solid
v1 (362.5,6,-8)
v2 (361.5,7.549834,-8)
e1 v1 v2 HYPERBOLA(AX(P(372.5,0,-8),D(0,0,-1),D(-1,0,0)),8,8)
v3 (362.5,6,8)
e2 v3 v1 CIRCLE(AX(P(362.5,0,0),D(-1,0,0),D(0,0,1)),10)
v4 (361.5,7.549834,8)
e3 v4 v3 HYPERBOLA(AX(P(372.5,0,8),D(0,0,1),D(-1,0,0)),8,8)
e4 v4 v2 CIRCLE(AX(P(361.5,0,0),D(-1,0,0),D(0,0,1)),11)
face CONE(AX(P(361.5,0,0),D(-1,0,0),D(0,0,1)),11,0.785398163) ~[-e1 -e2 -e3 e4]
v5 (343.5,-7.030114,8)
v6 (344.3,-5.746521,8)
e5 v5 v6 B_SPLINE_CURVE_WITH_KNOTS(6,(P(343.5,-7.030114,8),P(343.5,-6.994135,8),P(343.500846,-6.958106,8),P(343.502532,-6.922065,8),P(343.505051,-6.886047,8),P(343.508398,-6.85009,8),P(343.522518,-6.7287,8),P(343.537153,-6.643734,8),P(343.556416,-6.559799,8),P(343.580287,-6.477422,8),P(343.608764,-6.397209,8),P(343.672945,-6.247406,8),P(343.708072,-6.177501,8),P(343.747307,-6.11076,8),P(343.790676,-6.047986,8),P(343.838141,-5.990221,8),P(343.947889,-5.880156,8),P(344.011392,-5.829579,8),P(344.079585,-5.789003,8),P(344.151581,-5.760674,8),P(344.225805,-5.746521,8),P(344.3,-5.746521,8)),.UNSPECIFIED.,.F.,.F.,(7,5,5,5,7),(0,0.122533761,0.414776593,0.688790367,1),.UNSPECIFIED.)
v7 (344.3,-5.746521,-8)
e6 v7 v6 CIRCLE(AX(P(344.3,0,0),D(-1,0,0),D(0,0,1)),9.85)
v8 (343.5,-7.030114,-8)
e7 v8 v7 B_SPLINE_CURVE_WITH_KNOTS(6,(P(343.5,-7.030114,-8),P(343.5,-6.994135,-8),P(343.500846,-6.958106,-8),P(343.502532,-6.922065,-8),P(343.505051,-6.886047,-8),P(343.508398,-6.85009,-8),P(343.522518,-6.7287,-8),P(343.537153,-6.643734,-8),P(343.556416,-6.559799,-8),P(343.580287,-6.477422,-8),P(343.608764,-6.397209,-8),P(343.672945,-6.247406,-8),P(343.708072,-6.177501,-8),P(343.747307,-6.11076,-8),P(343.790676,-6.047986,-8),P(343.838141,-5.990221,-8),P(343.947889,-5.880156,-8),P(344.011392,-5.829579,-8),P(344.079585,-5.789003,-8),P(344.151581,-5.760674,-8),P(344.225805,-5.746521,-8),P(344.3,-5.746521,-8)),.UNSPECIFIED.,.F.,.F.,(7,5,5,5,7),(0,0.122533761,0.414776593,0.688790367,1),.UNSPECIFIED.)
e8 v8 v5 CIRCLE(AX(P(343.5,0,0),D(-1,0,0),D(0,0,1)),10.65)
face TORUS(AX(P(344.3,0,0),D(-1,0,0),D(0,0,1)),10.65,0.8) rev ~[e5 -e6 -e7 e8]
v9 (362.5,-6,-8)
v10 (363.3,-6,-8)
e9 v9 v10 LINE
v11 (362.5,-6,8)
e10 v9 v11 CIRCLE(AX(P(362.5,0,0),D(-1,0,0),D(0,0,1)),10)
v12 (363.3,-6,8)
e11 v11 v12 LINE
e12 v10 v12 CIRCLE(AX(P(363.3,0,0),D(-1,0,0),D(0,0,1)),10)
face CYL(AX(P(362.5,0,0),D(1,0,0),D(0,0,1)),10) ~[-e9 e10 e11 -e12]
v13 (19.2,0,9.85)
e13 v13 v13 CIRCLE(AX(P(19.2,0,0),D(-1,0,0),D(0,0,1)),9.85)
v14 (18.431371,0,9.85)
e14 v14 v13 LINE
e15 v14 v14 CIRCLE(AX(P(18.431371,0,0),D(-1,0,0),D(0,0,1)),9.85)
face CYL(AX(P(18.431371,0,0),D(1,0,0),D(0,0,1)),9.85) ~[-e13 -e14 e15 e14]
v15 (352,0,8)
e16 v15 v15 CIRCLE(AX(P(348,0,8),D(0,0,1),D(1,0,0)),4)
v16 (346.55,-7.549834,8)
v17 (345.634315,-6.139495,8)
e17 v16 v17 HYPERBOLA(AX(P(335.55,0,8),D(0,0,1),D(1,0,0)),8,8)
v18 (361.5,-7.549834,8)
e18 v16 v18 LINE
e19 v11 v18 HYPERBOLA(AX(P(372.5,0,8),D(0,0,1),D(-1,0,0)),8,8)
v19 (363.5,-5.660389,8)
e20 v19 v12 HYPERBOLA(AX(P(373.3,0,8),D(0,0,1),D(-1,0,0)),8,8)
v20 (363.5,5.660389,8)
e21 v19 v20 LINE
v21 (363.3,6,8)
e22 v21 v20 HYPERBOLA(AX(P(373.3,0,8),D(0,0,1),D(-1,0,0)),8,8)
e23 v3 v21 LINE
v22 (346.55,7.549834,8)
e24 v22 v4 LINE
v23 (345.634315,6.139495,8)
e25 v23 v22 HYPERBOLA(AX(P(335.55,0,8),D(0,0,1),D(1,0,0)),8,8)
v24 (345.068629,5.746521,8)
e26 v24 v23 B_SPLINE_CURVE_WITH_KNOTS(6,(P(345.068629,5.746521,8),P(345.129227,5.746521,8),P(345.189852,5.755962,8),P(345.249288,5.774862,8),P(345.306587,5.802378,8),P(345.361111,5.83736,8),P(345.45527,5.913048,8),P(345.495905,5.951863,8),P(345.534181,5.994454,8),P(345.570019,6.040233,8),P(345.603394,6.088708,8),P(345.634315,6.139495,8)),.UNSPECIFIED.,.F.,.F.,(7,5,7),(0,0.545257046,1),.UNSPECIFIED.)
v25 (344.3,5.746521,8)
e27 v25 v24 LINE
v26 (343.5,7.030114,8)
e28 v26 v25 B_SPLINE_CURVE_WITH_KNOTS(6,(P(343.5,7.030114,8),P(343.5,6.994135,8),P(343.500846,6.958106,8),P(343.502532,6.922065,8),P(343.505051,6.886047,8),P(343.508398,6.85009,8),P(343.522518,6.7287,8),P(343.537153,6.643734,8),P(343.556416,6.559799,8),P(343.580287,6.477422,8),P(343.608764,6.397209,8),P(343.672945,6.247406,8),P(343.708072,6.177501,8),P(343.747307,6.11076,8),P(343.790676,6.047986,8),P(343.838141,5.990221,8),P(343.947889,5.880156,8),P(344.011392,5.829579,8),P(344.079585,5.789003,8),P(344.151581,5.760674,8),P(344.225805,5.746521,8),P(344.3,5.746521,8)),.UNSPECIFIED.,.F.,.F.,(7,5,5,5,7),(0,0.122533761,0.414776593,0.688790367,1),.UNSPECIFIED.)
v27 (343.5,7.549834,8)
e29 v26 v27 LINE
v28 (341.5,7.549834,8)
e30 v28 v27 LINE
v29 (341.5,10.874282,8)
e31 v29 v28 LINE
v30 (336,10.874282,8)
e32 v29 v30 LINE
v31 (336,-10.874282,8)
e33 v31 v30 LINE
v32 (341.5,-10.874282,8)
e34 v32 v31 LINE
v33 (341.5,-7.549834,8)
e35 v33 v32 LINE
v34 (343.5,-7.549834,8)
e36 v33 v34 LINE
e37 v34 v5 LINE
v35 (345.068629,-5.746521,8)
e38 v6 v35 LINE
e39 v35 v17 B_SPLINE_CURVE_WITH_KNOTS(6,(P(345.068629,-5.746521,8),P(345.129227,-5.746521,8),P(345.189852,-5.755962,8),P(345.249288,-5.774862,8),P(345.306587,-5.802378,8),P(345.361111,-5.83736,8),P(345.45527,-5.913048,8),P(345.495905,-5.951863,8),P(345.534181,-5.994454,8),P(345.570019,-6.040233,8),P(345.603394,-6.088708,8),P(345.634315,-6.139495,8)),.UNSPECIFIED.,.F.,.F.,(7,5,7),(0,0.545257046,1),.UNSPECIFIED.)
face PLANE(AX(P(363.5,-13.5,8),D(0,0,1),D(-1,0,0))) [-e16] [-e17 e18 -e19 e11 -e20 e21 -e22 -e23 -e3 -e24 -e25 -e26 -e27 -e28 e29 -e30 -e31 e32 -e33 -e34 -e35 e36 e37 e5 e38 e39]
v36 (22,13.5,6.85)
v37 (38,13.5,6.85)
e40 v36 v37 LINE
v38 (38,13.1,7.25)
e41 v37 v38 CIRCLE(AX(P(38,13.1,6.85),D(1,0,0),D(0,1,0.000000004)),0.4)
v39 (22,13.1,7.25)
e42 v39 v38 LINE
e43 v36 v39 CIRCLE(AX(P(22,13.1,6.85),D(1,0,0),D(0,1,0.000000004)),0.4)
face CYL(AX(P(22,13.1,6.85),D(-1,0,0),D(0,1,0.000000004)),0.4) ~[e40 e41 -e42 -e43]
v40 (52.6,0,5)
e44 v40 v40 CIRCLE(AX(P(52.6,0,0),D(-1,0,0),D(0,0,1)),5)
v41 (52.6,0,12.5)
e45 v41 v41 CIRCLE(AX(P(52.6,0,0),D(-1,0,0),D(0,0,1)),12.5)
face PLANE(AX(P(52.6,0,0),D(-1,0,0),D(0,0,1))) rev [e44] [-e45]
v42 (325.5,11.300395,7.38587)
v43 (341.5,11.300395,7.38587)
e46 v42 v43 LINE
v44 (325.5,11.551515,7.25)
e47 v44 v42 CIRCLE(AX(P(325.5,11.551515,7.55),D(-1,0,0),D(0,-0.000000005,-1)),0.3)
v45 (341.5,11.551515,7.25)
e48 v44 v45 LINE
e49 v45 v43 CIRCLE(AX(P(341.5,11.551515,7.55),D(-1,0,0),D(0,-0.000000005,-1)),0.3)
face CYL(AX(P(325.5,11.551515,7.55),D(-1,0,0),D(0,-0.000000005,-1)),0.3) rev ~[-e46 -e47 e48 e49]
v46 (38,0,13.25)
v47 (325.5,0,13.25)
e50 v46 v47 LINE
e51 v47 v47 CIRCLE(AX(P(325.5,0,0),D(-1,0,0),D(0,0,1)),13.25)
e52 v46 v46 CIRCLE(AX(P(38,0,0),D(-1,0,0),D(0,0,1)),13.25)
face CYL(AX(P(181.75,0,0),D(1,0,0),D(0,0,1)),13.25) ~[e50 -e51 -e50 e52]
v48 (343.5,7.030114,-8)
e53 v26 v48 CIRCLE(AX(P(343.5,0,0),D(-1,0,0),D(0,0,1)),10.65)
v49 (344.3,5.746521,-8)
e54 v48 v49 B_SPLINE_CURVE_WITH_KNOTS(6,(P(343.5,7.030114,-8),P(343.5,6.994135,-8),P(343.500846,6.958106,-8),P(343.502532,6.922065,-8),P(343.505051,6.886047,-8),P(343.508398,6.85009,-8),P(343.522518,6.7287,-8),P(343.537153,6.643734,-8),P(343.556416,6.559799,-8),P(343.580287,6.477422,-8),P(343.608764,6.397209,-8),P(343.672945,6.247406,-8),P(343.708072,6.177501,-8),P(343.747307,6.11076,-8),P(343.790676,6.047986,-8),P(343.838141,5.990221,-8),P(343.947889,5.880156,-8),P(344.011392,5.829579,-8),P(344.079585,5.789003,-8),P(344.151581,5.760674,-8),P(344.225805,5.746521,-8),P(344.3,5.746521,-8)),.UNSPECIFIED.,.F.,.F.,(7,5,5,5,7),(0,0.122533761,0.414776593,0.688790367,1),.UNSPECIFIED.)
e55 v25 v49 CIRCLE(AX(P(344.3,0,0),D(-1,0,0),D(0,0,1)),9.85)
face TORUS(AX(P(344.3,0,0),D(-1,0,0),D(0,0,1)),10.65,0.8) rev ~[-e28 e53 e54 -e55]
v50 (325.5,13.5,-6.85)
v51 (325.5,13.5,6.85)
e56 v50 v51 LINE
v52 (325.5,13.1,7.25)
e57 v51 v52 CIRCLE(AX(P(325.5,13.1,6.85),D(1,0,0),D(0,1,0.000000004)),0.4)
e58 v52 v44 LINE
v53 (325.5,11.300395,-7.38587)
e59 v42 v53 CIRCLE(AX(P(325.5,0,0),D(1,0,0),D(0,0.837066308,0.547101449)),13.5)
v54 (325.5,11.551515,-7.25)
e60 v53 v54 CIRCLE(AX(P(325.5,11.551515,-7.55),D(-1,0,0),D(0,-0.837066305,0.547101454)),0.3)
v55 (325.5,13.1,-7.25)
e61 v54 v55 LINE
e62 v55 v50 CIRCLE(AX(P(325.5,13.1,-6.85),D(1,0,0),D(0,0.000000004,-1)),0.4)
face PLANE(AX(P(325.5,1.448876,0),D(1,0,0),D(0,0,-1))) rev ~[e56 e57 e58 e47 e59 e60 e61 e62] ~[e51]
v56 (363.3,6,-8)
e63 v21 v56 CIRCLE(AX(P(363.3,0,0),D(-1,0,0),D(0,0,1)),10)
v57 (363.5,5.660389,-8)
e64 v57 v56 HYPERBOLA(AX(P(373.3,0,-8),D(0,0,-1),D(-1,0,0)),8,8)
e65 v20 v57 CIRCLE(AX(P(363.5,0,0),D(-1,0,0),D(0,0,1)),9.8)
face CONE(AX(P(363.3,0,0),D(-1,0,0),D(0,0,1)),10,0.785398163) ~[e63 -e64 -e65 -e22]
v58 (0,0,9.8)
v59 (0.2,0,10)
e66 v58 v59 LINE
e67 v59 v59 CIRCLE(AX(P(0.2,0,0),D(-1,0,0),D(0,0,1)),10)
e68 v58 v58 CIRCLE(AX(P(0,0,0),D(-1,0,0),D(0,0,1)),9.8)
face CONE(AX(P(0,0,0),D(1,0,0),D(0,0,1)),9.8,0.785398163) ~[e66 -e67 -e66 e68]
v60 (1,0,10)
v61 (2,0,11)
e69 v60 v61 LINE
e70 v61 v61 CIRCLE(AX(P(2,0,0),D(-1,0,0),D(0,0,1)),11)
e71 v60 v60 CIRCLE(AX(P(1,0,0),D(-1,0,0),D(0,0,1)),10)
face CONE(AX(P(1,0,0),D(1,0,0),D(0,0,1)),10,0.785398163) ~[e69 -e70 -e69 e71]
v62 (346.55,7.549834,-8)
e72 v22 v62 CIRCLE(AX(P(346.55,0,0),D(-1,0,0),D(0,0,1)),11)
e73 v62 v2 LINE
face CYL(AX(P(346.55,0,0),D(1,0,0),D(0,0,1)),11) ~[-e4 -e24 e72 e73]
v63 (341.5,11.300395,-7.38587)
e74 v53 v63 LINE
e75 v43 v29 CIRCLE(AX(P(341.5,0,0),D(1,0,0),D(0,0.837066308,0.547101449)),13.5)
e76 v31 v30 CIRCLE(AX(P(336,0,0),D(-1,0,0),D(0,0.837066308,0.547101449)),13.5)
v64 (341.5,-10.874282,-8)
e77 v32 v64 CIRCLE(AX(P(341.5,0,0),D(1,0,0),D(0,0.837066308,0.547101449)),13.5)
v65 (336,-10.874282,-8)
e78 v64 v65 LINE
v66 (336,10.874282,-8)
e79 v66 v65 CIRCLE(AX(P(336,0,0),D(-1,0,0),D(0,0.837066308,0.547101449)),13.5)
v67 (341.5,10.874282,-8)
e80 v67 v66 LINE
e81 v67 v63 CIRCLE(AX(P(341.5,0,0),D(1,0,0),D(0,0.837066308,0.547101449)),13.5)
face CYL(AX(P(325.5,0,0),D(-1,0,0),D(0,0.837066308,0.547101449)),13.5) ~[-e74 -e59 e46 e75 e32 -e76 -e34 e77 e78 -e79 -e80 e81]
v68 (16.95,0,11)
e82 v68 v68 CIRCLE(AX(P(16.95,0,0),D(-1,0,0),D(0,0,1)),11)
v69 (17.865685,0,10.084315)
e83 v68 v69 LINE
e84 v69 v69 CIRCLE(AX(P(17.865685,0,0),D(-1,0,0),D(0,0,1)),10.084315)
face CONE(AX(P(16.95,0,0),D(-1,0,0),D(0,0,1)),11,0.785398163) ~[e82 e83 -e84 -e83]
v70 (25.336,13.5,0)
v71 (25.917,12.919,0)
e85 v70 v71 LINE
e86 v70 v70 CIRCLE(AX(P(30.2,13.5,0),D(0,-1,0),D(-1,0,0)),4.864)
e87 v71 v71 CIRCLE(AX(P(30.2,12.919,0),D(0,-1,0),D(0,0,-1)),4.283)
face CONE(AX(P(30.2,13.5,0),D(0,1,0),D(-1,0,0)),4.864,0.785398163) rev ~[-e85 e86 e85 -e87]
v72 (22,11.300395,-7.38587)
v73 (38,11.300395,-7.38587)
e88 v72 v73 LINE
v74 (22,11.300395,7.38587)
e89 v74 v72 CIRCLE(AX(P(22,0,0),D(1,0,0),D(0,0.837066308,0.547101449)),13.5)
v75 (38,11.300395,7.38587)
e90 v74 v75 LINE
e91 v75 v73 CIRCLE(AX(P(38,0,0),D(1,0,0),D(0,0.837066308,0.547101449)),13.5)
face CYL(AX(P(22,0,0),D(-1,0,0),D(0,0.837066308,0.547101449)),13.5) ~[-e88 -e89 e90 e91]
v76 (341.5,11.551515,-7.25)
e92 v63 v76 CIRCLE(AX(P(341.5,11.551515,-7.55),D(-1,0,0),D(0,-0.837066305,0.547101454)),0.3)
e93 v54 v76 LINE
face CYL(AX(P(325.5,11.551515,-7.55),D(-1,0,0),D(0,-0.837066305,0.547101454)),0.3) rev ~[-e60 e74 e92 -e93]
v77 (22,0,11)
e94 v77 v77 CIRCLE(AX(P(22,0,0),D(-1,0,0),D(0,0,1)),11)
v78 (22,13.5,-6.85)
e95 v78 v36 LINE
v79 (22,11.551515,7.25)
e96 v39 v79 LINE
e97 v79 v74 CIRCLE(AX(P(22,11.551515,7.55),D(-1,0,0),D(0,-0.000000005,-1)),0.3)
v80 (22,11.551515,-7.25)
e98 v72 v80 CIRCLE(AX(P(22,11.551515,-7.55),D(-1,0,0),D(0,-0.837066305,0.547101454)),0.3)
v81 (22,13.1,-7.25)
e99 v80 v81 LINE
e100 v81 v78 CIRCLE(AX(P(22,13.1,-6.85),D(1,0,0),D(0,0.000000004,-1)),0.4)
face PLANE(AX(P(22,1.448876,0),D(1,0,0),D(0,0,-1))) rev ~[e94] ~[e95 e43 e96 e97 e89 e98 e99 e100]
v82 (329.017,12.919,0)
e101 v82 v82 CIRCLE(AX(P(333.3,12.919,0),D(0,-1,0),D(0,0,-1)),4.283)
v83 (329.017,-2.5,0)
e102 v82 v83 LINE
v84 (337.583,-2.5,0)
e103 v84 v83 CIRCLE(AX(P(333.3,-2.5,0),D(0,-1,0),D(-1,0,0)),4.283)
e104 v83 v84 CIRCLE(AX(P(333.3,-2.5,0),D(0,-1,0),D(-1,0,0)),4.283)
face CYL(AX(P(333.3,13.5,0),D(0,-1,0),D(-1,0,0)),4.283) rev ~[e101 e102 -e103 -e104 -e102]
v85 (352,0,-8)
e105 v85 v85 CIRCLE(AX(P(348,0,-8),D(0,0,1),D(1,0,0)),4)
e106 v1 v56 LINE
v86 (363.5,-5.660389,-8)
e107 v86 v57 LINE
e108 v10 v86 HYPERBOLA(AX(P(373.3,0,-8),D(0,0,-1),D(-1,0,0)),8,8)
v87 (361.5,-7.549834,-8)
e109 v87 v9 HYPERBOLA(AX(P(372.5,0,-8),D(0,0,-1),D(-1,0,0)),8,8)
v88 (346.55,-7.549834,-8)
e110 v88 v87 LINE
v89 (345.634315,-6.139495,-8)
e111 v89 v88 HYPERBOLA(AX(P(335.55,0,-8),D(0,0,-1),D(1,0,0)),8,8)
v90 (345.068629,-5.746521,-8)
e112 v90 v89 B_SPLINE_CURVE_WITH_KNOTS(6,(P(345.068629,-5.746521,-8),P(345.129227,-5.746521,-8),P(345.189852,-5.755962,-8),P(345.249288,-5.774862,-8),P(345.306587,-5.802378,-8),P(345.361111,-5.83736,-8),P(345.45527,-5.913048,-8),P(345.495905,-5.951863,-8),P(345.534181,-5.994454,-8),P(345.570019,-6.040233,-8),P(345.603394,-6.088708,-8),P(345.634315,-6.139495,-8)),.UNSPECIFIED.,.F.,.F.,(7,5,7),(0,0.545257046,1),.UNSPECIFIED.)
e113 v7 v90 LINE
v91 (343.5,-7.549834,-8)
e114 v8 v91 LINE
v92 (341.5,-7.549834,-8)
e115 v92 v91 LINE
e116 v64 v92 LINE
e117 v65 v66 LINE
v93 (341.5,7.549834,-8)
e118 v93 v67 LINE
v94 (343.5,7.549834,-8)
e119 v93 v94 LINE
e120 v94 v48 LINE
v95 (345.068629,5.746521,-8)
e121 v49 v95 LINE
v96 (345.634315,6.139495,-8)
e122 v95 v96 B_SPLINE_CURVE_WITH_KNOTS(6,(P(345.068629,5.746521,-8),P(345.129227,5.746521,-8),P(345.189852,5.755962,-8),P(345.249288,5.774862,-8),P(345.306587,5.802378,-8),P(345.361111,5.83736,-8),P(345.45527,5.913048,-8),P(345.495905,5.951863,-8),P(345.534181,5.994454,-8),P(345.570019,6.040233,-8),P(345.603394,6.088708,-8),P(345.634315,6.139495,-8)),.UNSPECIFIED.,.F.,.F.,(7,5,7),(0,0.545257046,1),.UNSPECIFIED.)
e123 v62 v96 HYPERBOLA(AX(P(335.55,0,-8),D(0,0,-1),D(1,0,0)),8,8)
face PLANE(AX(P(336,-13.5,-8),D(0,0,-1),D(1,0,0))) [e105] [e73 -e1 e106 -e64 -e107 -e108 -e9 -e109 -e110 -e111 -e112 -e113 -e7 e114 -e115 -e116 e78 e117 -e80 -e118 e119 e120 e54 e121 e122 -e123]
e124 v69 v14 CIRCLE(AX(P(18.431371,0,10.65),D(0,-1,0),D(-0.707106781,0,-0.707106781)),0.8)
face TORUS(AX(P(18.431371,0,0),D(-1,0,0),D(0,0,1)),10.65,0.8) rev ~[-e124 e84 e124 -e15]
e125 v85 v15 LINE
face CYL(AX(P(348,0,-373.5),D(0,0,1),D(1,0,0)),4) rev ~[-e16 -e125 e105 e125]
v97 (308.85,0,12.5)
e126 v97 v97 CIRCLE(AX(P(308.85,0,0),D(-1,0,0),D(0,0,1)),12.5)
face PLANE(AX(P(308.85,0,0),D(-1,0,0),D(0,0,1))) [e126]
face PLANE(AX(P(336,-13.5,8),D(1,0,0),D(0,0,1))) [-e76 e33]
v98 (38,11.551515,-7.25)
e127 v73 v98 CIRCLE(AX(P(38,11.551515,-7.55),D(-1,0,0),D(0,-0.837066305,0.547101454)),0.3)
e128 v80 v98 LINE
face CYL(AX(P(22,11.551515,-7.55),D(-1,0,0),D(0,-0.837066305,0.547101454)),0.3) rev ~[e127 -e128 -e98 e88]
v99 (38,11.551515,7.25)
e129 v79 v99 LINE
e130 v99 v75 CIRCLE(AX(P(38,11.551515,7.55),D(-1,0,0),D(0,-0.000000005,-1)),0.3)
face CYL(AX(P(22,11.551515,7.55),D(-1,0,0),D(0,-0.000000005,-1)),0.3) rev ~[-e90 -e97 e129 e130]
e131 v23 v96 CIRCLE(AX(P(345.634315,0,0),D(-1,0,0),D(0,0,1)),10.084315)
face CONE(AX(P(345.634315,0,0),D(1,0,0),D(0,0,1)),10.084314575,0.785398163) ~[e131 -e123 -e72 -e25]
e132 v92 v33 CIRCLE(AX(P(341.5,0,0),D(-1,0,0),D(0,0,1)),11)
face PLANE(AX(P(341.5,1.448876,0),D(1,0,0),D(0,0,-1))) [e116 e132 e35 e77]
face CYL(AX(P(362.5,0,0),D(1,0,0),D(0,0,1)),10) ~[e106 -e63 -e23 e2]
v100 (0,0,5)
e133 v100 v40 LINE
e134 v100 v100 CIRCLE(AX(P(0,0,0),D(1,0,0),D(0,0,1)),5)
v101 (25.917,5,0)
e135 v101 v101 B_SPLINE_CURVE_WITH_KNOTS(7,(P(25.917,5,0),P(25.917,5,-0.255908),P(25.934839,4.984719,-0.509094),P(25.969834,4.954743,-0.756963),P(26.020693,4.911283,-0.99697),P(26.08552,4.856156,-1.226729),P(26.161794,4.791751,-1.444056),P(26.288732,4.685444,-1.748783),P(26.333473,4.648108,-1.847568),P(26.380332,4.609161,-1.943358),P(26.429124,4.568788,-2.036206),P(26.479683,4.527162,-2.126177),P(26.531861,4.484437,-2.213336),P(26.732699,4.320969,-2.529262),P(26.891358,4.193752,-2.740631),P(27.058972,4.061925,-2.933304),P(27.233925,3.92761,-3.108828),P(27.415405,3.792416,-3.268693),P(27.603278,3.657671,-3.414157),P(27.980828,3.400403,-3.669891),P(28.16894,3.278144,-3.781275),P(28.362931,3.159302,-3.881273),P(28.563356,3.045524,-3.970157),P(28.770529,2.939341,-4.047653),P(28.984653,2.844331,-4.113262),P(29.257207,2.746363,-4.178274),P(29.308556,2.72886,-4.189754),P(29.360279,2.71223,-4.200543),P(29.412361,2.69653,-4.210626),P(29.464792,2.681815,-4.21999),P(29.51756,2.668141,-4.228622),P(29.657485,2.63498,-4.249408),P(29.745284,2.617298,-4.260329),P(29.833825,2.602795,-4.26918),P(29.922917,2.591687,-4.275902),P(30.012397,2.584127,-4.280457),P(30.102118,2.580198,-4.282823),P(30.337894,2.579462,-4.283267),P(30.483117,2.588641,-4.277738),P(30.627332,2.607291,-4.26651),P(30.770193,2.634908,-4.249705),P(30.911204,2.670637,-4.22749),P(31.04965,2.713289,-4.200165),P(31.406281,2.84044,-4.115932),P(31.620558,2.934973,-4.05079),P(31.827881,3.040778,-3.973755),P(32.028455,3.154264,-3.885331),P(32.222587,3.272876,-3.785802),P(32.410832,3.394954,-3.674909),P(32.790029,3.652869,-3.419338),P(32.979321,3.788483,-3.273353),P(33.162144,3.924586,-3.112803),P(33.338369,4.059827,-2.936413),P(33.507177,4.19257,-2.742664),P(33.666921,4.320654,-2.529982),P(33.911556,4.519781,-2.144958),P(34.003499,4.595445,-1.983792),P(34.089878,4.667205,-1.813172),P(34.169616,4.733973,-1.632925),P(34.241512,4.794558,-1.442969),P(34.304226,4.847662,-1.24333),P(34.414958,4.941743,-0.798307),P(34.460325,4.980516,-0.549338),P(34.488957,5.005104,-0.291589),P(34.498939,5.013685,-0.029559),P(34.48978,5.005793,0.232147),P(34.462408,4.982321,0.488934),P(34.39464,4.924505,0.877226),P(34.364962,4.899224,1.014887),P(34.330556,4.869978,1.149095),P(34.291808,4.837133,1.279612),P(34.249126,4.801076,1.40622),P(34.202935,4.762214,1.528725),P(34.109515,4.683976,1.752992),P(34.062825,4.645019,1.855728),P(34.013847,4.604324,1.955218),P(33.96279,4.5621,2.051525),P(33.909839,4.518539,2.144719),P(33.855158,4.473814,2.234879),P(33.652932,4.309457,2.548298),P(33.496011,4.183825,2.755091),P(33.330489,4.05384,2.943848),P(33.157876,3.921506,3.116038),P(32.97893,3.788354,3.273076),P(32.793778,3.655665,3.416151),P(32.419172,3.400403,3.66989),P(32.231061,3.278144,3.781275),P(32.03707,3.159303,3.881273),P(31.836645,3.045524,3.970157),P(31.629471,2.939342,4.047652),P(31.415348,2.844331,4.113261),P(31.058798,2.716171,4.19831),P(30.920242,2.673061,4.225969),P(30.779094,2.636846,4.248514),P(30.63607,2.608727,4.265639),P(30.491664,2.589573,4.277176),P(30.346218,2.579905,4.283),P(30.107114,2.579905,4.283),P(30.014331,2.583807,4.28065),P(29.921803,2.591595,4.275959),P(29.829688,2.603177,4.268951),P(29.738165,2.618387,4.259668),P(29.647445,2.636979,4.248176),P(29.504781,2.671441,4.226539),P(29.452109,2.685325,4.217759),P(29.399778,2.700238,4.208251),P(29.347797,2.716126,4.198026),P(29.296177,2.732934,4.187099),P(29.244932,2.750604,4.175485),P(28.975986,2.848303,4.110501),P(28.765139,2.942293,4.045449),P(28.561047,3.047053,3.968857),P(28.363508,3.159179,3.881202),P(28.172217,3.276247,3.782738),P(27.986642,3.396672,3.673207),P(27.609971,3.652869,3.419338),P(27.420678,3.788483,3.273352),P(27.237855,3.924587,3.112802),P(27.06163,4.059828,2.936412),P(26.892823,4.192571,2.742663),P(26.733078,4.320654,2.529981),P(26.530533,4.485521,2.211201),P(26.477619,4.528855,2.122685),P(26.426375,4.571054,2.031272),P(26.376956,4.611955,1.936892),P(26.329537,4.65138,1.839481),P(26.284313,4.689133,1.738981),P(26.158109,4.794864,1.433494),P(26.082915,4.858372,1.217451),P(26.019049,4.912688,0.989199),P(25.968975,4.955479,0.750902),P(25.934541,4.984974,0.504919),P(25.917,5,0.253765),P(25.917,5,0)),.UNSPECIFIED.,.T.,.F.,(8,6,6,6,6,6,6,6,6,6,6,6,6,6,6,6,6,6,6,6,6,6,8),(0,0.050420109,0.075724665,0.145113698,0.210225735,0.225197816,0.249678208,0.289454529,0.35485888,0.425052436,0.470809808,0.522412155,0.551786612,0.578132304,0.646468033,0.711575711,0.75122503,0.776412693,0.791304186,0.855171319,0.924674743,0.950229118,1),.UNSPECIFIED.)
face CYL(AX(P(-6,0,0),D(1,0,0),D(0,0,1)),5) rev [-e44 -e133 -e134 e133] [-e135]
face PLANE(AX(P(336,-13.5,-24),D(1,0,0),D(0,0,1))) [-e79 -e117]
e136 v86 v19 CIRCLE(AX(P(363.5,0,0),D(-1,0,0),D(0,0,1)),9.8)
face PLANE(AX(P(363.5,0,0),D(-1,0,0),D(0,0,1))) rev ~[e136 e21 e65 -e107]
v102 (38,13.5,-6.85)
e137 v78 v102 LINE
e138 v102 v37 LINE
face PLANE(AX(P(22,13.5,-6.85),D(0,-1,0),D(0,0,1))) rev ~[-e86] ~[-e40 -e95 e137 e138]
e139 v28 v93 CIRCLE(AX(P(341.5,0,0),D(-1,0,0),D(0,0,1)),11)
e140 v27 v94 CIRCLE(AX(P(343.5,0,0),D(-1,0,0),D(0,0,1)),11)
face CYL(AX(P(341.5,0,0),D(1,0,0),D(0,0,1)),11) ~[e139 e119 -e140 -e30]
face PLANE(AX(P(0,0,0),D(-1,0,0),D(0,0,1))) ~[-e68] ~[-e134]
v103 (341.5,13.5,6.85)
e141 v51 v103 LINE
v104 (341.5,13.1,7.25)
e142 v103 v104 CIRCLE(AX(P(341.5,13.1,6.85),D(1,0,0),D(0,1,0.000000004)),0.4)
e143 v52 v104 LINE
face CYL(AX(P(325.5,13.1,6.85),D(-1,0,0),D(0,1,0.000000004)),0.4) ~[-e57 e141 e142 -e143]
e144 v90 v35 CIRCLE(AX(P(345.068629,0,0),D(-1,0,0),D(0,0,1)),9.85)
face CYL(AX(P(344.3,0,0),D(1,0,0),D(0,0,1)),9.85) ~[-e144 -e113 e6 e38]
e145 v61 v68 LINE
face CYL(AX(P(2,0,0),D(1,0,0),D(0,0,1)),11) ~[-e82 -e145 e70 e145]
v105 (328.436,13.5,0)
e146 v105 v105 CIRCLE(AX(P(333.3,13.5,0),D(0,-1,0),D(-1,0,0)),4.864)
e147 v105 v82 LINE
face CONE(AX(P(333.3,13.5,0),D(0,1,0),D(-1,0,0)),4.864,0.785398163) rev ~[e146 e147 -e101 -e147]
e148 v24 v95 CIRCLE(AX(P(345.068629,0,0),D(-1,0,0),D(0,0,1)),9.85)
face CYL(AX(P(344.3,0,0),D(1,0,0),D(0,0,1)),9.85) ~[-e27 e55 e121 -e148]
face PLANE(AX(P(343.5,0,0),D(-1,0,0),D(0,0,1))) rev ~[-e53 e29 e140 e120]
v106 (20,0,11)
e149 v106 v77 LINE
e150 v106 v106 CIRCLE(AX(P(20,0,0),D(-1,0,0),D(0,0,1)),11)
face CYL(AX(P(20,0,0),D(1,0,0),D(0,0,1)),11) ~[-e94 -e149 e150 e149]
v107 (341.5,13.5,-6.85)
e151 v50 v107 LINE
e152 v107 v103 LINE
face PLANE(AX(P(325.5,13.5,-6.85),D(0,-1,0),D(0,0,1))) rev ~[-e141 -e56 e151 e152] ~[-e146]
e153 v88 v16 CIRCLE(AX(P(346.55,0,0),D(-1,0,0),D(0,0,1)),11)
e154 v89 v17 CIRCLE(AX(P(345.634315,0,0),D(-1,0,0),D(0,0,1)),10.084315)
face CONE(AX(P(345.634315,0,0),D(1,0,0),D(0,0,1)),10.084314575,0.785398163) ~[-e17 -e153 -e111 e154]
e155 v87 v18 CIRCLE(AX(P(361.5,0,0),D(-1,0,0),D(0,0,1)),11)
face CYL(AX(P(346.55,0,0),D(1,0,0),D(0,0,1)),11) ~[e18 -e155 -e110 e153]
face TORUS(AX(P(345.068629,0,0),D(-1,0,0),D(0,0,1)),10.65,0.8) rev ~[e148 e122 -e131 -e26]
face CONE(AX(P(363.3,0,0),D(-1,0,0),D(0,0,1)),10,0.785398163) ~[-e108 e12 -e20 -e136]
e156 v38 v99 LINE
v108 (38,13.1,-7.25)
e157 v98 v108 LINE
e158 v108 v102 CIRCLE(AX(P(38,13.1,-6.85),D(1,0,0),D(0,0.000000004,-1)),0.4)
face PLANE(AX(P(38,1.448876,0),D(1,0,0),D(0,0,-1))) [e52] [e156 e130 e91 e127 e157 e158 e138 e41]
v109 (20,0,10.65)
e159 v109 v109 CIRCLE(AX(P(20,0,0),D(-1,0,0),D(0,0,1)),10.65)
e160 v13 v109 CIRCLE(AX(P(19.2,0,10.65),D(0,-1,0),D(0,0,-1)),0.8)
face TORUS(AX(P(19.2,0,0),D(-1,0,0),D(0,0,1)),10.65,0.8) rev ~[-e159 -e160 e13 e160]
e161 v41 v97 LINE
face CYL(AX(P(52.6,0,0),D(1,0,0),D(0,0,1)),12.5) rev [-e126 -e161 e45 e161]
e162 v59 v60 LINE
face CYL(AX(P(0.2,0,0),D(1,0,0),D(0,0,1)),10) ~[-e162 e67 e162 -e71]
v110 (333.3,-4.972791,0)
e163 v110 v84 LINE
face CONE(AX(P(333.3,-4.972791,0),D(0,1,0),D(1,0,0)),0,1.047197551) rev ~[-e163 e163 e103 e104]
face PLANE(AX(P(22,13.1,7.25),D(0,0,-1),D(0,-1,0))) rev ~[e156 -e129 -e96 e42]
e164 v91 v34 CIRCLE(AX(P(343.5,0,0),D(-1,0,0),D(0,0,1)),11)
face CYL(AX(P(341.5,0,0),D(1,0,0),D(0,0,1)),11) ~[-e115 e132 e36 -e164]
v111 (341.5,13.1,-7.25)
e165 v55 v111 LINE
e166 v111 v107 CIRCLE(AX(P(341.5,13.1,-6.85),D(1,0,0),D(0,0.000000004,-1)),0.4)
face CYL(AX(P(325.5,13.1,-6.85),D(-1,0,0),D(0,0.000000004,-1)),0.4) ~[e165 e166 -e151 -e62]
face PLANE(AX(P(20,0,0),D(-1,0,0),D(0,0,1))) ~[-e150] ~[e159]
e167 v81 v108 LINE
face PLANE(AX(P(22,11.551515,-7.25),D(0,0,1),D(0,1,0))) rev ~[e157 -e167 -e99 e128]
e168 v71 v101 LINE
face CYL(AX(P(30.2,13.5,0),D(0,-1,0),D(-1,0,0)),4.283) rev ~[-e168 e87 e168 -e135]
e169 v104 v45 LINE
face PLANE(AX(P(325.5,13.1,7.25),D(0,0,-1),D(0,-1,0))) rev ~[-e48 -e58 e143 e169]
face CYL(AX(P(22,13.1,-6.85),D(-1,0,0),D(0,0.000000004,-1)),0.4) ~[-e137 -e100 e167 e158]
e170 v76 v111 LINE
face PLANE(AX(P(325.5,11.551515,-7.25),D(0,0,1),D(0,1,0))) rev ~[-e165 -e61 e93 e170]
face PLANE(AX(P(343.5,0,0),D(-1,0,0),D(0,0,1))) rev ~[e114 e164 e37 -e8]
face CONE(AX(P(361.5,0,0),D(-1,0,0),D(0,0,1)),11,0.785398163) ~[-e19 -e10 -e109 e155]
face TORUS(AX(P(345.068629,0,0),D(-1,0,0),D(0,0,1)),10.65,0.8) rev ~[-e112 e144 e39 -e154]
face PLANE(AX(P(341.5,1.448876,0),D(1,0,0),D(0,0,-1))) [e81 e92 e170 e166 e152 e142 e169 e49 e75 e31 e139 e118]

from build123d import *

# Parameters (mm, degrees)
AUFSATZ_LINEAR_AUSTRAGEN1_DEPTH      = 16
SKIZZE3_W                            = 287.5
SKIZZE3_H                            = 13.25
AUFSATZ_LINEAR_AUSTRAGEN2_DEPTH      = 16
SCHNITT_LINEAR_AUSTRAGEN1_DEPTH      = 13.5
SCHNITT_LINEAR_AUSTRAGEN1_DEPTH_BACK = 13.5
BOHRUNG1_D                           = 8
BOHRUNG2_D                           = 8.566
BOHRUNG2_DEPTH                       = 13.5
BOHRUNG2_CSINK_D                     = 9.728
BOHRUNG2_CSINK_ANGLE                 = 90
BOHRUNG3_D                           = 8.566
BOHRUNG3_DEPTH                       = 16
BOHRUNG3_CSINK_D                     = 9.728
BOHRUNG3_CSINK_ANGLE                 = 90
BOHRUNG3_TIP                         = 2.472791203


with BuildPart() as part:
    # Skizze1 → Rotation1 (revolve)
    with BuildSketch(Plane.XY):
        with BuildLine():
            Line((0, 0), (0, 9.8))
            Line((0, 9.8), (0.2, 10))
            Line((0.2, 10), (1, 10))
            Line((1, 10), (2, 11))
            Line((2, 11), (16.95, 11))
            Line((16.95, 11), (17.865685425, 10.084314575))
            ThreePointArc((17.865685425, 10.084314575), (18.125224104, 9.910896374), (18.43137085, 9.85))
            Line((18.43137085, 9.85), (19.2, 9.85))
            ThreePointArc((19.2, 9.85), (19.765685425, 10.084314575), (20, 10.65))
            Line((20, 10.65), (20, 11))
            Line((20, 11), (22, 11))
            Line((22, 11), (22, 0))
            Line((22, 0), (0, 0))
        make_face()
    revolve(axis=Axis((22, 0, 0), (-1, 0, 0)))

    # Skizze2 → Aufsatz-Linear austragen1 (add)
    with BuildSketch(Plane(origin=(22, 0, 0), x_dir=(0, 0, -1), z_dir=(1, 0, 0))):
        with BuildLine():
            Line((7.25, 11.551515052), (7.25, 13.1))
            ThreePointArc((7.25, 13.1), (7.132842712, 13.382842712), (6.85, 13.5))
            Line((6.85, 13.5), (-6.85, 13.5))
            ThreePointArc((-6.85, 13.5), (-7.132842712, 13.382842712), (-7.25, 13.1))
            Line((-7.25, 13.1), (-7.25, 11.551515052))
            ThreePointArc((-7.25, 11.551515052), (-7.286144803, 11.408754992), (-7.385869565, 11.30039516))
            ThreePointArc((-7.385869565, 11.30039516), (0, -13.5), (7.385869565, 11.30039516))
            ThreePointArc((7.385869565, 11.30039516), (7.286144803, 11.408754992), (7.25, 11.551515052))
        make_face()
    extrude(amount=AUFSATZ_LINEAR_AUSTRAGEN1_DEPTH)

    # Skizze3 → Rotation2 (revolve)
    with BuildSketch(Plane.XY):
        with Locations((181.75, 6.625)):
            Rectangle(SKIZZE3_W, SKIZZE3_H)
    revolve(axis=Axis((325.5, 0, 0), (-1, 0, 0)))

    # Skizze4 → Aufsatz-Linear austragen2 (add)
    with BuildSketch(Plane(origin=(325.5, 0, 0), x_dir=(0, 0, -1), z_dir=(1, 0, 0))):
        with BuildLine():
            Line((7.25, 11.551515052), (7.25, 13.1))
            ThreePointArc((7.25, 13.1), (7.132842712, 13.382842712), (6.85, 13.5))
            Line((6.85, 13.5), (-6.85, 13.5))
            ThreePointArc((-6.85, 13.5), (-7.132842712, 13.382842712), (-7.25, 13.1))
            Line((-7.25, 13.1), (-7.25, 11.551515052))
            ThreePointArc((-7.25, 11.551515052), (-7.286144803, 11.408754992), (-7.385869565, 11.30039516))
            ThreePointArc((-7.385869565, 11.30039516), (0, -13.5), (7.385869565, 11.30039516))
            ThreePointArc((7.385869565, 11.30039516), (7.286144803, 11.408754992), (7.25, 11.551515052))
        make_face()
    extrude(amount=AUFSATZ_LINEAR_AUSTRAGEN2_DEPTH)

    # Skizze5 → Rotation3 (revolve)
    with BuildSketch(Plane.XY):
        with BuildLine():
            Line((341.5, 0), (341.5, 11))
            Line((341.5, 11), (343.5, 11))
            Line((343.5, 11), (343.5, 10.65))
            ThreePointArc((343.5, 10.65), (343.734314575, 10.084314575), (344.3, 9.85))
            Line((344.3, 9.85), (345.06862915, 9.85))
            ThreePointArc((345.06862915, 9.85), (345.374775896, 9.910896374), (345.634314575, 10.084314575))
            Line((345.634314575, 10.084314575), (346.55, 11))
            Line((346.55, 11), (361.5, 11))
            Line((361.5, 11), (362.5, 10))
            Line((362.5, 10), (363.3, 10))
            Line((363.3, 10), (363.5, 9.8))
            Line((363.5, 9.8), (363.5, 0))
            Line((363.5, 0), (341.5, 0))
        make_face()
    revolve(axis=Axis((363.5, 0, 0), (-1, 0, 0)))

    # Skizze6 → Schnitt-Linear austragen1 (cut, two sides: drawn at the far end of the back side and taken through both)
    with BuildSketch(Plane(origin=(0, 0, 0), x_dir=(1, 0, 0), z_dir=(0, 1, 0)).offset(-SCHNITT_LINEAR_AUSTRAGEN1_DEPTH_BACK)):
        Polygon((336, 24), (336, 8), (363.5, 8), (363.5, -8), (336, -8), (336, -24), (379.5, -24), (379.5, 24), align=None)
    extrude(amount=SCHNITT_LINEAR_AUSTRAGEN1_DEPTH + SCHNITT_LINEAR_AUSTRAGEN1_DEPTH_BACK, mode=Mode.SUBTRACT)

    # Bohrung1 (through all)
    with Locations(Plane(origin=(0, 0, -8), x_dir=(-1, 0, 0), z_dir=(0, 0, -1))):
        with Locations((-348, 0)):
            Hole(BOHRUNG1_D / 2)

    # Bohrung2
    with Locations(Plane(origin=(0, 13.5, 0), x_dir=(1, 0, 0), z_dir=(0, 1, 0))):
        with Locations((30.2, 0)):
            CounterSinkHole(BOHRUNG2_D / 2, BOHRUNG2_CSINK_D / 2, depth=BOHRUNG2_DEPTH, counter_sink_angle=BOHRUNG2_CSINK_ANGLE)

    # Bohrung3
    with Locations(Plane(origin=(0, 13.5, 0), x_dir=(1, 0, 0), z_dir=(0, 1, 0))):
        with Locations((333.3, 0)):
            CounterSinkHole(BOHRUNG3_D / 2, BOHRUNG3_CSINK_D / 2, depth=BOHRUNG3_DEPTH, counter_sink_angle=BOHRUNG3_CSINK_ANGLE)
            with Locations((0, 0, -(BOHRUNG3_DEPTH + BOHRUNG3_TIP / 2))):  # 120° drill point
                Cone(0, BOHRUNG3_D / 2, BOHRUNG3_TIP, mode=Mode.SUBTRACT)

    # Skizze13 → Schnitt-Rotation1 (revolve, cut)
    with BuildSketch(Plane.XY):
        Polygon((-6, 0), (-6, 5), (52.6, 5), (52.6, 12.5), (308.85, 12.5), (308.85, 0), align=None)
    revolve(axis=Axis((308.85, 0, 0), (-1, 0, 0)), mode=Mode.SUBTRACT)


solid = part.part
